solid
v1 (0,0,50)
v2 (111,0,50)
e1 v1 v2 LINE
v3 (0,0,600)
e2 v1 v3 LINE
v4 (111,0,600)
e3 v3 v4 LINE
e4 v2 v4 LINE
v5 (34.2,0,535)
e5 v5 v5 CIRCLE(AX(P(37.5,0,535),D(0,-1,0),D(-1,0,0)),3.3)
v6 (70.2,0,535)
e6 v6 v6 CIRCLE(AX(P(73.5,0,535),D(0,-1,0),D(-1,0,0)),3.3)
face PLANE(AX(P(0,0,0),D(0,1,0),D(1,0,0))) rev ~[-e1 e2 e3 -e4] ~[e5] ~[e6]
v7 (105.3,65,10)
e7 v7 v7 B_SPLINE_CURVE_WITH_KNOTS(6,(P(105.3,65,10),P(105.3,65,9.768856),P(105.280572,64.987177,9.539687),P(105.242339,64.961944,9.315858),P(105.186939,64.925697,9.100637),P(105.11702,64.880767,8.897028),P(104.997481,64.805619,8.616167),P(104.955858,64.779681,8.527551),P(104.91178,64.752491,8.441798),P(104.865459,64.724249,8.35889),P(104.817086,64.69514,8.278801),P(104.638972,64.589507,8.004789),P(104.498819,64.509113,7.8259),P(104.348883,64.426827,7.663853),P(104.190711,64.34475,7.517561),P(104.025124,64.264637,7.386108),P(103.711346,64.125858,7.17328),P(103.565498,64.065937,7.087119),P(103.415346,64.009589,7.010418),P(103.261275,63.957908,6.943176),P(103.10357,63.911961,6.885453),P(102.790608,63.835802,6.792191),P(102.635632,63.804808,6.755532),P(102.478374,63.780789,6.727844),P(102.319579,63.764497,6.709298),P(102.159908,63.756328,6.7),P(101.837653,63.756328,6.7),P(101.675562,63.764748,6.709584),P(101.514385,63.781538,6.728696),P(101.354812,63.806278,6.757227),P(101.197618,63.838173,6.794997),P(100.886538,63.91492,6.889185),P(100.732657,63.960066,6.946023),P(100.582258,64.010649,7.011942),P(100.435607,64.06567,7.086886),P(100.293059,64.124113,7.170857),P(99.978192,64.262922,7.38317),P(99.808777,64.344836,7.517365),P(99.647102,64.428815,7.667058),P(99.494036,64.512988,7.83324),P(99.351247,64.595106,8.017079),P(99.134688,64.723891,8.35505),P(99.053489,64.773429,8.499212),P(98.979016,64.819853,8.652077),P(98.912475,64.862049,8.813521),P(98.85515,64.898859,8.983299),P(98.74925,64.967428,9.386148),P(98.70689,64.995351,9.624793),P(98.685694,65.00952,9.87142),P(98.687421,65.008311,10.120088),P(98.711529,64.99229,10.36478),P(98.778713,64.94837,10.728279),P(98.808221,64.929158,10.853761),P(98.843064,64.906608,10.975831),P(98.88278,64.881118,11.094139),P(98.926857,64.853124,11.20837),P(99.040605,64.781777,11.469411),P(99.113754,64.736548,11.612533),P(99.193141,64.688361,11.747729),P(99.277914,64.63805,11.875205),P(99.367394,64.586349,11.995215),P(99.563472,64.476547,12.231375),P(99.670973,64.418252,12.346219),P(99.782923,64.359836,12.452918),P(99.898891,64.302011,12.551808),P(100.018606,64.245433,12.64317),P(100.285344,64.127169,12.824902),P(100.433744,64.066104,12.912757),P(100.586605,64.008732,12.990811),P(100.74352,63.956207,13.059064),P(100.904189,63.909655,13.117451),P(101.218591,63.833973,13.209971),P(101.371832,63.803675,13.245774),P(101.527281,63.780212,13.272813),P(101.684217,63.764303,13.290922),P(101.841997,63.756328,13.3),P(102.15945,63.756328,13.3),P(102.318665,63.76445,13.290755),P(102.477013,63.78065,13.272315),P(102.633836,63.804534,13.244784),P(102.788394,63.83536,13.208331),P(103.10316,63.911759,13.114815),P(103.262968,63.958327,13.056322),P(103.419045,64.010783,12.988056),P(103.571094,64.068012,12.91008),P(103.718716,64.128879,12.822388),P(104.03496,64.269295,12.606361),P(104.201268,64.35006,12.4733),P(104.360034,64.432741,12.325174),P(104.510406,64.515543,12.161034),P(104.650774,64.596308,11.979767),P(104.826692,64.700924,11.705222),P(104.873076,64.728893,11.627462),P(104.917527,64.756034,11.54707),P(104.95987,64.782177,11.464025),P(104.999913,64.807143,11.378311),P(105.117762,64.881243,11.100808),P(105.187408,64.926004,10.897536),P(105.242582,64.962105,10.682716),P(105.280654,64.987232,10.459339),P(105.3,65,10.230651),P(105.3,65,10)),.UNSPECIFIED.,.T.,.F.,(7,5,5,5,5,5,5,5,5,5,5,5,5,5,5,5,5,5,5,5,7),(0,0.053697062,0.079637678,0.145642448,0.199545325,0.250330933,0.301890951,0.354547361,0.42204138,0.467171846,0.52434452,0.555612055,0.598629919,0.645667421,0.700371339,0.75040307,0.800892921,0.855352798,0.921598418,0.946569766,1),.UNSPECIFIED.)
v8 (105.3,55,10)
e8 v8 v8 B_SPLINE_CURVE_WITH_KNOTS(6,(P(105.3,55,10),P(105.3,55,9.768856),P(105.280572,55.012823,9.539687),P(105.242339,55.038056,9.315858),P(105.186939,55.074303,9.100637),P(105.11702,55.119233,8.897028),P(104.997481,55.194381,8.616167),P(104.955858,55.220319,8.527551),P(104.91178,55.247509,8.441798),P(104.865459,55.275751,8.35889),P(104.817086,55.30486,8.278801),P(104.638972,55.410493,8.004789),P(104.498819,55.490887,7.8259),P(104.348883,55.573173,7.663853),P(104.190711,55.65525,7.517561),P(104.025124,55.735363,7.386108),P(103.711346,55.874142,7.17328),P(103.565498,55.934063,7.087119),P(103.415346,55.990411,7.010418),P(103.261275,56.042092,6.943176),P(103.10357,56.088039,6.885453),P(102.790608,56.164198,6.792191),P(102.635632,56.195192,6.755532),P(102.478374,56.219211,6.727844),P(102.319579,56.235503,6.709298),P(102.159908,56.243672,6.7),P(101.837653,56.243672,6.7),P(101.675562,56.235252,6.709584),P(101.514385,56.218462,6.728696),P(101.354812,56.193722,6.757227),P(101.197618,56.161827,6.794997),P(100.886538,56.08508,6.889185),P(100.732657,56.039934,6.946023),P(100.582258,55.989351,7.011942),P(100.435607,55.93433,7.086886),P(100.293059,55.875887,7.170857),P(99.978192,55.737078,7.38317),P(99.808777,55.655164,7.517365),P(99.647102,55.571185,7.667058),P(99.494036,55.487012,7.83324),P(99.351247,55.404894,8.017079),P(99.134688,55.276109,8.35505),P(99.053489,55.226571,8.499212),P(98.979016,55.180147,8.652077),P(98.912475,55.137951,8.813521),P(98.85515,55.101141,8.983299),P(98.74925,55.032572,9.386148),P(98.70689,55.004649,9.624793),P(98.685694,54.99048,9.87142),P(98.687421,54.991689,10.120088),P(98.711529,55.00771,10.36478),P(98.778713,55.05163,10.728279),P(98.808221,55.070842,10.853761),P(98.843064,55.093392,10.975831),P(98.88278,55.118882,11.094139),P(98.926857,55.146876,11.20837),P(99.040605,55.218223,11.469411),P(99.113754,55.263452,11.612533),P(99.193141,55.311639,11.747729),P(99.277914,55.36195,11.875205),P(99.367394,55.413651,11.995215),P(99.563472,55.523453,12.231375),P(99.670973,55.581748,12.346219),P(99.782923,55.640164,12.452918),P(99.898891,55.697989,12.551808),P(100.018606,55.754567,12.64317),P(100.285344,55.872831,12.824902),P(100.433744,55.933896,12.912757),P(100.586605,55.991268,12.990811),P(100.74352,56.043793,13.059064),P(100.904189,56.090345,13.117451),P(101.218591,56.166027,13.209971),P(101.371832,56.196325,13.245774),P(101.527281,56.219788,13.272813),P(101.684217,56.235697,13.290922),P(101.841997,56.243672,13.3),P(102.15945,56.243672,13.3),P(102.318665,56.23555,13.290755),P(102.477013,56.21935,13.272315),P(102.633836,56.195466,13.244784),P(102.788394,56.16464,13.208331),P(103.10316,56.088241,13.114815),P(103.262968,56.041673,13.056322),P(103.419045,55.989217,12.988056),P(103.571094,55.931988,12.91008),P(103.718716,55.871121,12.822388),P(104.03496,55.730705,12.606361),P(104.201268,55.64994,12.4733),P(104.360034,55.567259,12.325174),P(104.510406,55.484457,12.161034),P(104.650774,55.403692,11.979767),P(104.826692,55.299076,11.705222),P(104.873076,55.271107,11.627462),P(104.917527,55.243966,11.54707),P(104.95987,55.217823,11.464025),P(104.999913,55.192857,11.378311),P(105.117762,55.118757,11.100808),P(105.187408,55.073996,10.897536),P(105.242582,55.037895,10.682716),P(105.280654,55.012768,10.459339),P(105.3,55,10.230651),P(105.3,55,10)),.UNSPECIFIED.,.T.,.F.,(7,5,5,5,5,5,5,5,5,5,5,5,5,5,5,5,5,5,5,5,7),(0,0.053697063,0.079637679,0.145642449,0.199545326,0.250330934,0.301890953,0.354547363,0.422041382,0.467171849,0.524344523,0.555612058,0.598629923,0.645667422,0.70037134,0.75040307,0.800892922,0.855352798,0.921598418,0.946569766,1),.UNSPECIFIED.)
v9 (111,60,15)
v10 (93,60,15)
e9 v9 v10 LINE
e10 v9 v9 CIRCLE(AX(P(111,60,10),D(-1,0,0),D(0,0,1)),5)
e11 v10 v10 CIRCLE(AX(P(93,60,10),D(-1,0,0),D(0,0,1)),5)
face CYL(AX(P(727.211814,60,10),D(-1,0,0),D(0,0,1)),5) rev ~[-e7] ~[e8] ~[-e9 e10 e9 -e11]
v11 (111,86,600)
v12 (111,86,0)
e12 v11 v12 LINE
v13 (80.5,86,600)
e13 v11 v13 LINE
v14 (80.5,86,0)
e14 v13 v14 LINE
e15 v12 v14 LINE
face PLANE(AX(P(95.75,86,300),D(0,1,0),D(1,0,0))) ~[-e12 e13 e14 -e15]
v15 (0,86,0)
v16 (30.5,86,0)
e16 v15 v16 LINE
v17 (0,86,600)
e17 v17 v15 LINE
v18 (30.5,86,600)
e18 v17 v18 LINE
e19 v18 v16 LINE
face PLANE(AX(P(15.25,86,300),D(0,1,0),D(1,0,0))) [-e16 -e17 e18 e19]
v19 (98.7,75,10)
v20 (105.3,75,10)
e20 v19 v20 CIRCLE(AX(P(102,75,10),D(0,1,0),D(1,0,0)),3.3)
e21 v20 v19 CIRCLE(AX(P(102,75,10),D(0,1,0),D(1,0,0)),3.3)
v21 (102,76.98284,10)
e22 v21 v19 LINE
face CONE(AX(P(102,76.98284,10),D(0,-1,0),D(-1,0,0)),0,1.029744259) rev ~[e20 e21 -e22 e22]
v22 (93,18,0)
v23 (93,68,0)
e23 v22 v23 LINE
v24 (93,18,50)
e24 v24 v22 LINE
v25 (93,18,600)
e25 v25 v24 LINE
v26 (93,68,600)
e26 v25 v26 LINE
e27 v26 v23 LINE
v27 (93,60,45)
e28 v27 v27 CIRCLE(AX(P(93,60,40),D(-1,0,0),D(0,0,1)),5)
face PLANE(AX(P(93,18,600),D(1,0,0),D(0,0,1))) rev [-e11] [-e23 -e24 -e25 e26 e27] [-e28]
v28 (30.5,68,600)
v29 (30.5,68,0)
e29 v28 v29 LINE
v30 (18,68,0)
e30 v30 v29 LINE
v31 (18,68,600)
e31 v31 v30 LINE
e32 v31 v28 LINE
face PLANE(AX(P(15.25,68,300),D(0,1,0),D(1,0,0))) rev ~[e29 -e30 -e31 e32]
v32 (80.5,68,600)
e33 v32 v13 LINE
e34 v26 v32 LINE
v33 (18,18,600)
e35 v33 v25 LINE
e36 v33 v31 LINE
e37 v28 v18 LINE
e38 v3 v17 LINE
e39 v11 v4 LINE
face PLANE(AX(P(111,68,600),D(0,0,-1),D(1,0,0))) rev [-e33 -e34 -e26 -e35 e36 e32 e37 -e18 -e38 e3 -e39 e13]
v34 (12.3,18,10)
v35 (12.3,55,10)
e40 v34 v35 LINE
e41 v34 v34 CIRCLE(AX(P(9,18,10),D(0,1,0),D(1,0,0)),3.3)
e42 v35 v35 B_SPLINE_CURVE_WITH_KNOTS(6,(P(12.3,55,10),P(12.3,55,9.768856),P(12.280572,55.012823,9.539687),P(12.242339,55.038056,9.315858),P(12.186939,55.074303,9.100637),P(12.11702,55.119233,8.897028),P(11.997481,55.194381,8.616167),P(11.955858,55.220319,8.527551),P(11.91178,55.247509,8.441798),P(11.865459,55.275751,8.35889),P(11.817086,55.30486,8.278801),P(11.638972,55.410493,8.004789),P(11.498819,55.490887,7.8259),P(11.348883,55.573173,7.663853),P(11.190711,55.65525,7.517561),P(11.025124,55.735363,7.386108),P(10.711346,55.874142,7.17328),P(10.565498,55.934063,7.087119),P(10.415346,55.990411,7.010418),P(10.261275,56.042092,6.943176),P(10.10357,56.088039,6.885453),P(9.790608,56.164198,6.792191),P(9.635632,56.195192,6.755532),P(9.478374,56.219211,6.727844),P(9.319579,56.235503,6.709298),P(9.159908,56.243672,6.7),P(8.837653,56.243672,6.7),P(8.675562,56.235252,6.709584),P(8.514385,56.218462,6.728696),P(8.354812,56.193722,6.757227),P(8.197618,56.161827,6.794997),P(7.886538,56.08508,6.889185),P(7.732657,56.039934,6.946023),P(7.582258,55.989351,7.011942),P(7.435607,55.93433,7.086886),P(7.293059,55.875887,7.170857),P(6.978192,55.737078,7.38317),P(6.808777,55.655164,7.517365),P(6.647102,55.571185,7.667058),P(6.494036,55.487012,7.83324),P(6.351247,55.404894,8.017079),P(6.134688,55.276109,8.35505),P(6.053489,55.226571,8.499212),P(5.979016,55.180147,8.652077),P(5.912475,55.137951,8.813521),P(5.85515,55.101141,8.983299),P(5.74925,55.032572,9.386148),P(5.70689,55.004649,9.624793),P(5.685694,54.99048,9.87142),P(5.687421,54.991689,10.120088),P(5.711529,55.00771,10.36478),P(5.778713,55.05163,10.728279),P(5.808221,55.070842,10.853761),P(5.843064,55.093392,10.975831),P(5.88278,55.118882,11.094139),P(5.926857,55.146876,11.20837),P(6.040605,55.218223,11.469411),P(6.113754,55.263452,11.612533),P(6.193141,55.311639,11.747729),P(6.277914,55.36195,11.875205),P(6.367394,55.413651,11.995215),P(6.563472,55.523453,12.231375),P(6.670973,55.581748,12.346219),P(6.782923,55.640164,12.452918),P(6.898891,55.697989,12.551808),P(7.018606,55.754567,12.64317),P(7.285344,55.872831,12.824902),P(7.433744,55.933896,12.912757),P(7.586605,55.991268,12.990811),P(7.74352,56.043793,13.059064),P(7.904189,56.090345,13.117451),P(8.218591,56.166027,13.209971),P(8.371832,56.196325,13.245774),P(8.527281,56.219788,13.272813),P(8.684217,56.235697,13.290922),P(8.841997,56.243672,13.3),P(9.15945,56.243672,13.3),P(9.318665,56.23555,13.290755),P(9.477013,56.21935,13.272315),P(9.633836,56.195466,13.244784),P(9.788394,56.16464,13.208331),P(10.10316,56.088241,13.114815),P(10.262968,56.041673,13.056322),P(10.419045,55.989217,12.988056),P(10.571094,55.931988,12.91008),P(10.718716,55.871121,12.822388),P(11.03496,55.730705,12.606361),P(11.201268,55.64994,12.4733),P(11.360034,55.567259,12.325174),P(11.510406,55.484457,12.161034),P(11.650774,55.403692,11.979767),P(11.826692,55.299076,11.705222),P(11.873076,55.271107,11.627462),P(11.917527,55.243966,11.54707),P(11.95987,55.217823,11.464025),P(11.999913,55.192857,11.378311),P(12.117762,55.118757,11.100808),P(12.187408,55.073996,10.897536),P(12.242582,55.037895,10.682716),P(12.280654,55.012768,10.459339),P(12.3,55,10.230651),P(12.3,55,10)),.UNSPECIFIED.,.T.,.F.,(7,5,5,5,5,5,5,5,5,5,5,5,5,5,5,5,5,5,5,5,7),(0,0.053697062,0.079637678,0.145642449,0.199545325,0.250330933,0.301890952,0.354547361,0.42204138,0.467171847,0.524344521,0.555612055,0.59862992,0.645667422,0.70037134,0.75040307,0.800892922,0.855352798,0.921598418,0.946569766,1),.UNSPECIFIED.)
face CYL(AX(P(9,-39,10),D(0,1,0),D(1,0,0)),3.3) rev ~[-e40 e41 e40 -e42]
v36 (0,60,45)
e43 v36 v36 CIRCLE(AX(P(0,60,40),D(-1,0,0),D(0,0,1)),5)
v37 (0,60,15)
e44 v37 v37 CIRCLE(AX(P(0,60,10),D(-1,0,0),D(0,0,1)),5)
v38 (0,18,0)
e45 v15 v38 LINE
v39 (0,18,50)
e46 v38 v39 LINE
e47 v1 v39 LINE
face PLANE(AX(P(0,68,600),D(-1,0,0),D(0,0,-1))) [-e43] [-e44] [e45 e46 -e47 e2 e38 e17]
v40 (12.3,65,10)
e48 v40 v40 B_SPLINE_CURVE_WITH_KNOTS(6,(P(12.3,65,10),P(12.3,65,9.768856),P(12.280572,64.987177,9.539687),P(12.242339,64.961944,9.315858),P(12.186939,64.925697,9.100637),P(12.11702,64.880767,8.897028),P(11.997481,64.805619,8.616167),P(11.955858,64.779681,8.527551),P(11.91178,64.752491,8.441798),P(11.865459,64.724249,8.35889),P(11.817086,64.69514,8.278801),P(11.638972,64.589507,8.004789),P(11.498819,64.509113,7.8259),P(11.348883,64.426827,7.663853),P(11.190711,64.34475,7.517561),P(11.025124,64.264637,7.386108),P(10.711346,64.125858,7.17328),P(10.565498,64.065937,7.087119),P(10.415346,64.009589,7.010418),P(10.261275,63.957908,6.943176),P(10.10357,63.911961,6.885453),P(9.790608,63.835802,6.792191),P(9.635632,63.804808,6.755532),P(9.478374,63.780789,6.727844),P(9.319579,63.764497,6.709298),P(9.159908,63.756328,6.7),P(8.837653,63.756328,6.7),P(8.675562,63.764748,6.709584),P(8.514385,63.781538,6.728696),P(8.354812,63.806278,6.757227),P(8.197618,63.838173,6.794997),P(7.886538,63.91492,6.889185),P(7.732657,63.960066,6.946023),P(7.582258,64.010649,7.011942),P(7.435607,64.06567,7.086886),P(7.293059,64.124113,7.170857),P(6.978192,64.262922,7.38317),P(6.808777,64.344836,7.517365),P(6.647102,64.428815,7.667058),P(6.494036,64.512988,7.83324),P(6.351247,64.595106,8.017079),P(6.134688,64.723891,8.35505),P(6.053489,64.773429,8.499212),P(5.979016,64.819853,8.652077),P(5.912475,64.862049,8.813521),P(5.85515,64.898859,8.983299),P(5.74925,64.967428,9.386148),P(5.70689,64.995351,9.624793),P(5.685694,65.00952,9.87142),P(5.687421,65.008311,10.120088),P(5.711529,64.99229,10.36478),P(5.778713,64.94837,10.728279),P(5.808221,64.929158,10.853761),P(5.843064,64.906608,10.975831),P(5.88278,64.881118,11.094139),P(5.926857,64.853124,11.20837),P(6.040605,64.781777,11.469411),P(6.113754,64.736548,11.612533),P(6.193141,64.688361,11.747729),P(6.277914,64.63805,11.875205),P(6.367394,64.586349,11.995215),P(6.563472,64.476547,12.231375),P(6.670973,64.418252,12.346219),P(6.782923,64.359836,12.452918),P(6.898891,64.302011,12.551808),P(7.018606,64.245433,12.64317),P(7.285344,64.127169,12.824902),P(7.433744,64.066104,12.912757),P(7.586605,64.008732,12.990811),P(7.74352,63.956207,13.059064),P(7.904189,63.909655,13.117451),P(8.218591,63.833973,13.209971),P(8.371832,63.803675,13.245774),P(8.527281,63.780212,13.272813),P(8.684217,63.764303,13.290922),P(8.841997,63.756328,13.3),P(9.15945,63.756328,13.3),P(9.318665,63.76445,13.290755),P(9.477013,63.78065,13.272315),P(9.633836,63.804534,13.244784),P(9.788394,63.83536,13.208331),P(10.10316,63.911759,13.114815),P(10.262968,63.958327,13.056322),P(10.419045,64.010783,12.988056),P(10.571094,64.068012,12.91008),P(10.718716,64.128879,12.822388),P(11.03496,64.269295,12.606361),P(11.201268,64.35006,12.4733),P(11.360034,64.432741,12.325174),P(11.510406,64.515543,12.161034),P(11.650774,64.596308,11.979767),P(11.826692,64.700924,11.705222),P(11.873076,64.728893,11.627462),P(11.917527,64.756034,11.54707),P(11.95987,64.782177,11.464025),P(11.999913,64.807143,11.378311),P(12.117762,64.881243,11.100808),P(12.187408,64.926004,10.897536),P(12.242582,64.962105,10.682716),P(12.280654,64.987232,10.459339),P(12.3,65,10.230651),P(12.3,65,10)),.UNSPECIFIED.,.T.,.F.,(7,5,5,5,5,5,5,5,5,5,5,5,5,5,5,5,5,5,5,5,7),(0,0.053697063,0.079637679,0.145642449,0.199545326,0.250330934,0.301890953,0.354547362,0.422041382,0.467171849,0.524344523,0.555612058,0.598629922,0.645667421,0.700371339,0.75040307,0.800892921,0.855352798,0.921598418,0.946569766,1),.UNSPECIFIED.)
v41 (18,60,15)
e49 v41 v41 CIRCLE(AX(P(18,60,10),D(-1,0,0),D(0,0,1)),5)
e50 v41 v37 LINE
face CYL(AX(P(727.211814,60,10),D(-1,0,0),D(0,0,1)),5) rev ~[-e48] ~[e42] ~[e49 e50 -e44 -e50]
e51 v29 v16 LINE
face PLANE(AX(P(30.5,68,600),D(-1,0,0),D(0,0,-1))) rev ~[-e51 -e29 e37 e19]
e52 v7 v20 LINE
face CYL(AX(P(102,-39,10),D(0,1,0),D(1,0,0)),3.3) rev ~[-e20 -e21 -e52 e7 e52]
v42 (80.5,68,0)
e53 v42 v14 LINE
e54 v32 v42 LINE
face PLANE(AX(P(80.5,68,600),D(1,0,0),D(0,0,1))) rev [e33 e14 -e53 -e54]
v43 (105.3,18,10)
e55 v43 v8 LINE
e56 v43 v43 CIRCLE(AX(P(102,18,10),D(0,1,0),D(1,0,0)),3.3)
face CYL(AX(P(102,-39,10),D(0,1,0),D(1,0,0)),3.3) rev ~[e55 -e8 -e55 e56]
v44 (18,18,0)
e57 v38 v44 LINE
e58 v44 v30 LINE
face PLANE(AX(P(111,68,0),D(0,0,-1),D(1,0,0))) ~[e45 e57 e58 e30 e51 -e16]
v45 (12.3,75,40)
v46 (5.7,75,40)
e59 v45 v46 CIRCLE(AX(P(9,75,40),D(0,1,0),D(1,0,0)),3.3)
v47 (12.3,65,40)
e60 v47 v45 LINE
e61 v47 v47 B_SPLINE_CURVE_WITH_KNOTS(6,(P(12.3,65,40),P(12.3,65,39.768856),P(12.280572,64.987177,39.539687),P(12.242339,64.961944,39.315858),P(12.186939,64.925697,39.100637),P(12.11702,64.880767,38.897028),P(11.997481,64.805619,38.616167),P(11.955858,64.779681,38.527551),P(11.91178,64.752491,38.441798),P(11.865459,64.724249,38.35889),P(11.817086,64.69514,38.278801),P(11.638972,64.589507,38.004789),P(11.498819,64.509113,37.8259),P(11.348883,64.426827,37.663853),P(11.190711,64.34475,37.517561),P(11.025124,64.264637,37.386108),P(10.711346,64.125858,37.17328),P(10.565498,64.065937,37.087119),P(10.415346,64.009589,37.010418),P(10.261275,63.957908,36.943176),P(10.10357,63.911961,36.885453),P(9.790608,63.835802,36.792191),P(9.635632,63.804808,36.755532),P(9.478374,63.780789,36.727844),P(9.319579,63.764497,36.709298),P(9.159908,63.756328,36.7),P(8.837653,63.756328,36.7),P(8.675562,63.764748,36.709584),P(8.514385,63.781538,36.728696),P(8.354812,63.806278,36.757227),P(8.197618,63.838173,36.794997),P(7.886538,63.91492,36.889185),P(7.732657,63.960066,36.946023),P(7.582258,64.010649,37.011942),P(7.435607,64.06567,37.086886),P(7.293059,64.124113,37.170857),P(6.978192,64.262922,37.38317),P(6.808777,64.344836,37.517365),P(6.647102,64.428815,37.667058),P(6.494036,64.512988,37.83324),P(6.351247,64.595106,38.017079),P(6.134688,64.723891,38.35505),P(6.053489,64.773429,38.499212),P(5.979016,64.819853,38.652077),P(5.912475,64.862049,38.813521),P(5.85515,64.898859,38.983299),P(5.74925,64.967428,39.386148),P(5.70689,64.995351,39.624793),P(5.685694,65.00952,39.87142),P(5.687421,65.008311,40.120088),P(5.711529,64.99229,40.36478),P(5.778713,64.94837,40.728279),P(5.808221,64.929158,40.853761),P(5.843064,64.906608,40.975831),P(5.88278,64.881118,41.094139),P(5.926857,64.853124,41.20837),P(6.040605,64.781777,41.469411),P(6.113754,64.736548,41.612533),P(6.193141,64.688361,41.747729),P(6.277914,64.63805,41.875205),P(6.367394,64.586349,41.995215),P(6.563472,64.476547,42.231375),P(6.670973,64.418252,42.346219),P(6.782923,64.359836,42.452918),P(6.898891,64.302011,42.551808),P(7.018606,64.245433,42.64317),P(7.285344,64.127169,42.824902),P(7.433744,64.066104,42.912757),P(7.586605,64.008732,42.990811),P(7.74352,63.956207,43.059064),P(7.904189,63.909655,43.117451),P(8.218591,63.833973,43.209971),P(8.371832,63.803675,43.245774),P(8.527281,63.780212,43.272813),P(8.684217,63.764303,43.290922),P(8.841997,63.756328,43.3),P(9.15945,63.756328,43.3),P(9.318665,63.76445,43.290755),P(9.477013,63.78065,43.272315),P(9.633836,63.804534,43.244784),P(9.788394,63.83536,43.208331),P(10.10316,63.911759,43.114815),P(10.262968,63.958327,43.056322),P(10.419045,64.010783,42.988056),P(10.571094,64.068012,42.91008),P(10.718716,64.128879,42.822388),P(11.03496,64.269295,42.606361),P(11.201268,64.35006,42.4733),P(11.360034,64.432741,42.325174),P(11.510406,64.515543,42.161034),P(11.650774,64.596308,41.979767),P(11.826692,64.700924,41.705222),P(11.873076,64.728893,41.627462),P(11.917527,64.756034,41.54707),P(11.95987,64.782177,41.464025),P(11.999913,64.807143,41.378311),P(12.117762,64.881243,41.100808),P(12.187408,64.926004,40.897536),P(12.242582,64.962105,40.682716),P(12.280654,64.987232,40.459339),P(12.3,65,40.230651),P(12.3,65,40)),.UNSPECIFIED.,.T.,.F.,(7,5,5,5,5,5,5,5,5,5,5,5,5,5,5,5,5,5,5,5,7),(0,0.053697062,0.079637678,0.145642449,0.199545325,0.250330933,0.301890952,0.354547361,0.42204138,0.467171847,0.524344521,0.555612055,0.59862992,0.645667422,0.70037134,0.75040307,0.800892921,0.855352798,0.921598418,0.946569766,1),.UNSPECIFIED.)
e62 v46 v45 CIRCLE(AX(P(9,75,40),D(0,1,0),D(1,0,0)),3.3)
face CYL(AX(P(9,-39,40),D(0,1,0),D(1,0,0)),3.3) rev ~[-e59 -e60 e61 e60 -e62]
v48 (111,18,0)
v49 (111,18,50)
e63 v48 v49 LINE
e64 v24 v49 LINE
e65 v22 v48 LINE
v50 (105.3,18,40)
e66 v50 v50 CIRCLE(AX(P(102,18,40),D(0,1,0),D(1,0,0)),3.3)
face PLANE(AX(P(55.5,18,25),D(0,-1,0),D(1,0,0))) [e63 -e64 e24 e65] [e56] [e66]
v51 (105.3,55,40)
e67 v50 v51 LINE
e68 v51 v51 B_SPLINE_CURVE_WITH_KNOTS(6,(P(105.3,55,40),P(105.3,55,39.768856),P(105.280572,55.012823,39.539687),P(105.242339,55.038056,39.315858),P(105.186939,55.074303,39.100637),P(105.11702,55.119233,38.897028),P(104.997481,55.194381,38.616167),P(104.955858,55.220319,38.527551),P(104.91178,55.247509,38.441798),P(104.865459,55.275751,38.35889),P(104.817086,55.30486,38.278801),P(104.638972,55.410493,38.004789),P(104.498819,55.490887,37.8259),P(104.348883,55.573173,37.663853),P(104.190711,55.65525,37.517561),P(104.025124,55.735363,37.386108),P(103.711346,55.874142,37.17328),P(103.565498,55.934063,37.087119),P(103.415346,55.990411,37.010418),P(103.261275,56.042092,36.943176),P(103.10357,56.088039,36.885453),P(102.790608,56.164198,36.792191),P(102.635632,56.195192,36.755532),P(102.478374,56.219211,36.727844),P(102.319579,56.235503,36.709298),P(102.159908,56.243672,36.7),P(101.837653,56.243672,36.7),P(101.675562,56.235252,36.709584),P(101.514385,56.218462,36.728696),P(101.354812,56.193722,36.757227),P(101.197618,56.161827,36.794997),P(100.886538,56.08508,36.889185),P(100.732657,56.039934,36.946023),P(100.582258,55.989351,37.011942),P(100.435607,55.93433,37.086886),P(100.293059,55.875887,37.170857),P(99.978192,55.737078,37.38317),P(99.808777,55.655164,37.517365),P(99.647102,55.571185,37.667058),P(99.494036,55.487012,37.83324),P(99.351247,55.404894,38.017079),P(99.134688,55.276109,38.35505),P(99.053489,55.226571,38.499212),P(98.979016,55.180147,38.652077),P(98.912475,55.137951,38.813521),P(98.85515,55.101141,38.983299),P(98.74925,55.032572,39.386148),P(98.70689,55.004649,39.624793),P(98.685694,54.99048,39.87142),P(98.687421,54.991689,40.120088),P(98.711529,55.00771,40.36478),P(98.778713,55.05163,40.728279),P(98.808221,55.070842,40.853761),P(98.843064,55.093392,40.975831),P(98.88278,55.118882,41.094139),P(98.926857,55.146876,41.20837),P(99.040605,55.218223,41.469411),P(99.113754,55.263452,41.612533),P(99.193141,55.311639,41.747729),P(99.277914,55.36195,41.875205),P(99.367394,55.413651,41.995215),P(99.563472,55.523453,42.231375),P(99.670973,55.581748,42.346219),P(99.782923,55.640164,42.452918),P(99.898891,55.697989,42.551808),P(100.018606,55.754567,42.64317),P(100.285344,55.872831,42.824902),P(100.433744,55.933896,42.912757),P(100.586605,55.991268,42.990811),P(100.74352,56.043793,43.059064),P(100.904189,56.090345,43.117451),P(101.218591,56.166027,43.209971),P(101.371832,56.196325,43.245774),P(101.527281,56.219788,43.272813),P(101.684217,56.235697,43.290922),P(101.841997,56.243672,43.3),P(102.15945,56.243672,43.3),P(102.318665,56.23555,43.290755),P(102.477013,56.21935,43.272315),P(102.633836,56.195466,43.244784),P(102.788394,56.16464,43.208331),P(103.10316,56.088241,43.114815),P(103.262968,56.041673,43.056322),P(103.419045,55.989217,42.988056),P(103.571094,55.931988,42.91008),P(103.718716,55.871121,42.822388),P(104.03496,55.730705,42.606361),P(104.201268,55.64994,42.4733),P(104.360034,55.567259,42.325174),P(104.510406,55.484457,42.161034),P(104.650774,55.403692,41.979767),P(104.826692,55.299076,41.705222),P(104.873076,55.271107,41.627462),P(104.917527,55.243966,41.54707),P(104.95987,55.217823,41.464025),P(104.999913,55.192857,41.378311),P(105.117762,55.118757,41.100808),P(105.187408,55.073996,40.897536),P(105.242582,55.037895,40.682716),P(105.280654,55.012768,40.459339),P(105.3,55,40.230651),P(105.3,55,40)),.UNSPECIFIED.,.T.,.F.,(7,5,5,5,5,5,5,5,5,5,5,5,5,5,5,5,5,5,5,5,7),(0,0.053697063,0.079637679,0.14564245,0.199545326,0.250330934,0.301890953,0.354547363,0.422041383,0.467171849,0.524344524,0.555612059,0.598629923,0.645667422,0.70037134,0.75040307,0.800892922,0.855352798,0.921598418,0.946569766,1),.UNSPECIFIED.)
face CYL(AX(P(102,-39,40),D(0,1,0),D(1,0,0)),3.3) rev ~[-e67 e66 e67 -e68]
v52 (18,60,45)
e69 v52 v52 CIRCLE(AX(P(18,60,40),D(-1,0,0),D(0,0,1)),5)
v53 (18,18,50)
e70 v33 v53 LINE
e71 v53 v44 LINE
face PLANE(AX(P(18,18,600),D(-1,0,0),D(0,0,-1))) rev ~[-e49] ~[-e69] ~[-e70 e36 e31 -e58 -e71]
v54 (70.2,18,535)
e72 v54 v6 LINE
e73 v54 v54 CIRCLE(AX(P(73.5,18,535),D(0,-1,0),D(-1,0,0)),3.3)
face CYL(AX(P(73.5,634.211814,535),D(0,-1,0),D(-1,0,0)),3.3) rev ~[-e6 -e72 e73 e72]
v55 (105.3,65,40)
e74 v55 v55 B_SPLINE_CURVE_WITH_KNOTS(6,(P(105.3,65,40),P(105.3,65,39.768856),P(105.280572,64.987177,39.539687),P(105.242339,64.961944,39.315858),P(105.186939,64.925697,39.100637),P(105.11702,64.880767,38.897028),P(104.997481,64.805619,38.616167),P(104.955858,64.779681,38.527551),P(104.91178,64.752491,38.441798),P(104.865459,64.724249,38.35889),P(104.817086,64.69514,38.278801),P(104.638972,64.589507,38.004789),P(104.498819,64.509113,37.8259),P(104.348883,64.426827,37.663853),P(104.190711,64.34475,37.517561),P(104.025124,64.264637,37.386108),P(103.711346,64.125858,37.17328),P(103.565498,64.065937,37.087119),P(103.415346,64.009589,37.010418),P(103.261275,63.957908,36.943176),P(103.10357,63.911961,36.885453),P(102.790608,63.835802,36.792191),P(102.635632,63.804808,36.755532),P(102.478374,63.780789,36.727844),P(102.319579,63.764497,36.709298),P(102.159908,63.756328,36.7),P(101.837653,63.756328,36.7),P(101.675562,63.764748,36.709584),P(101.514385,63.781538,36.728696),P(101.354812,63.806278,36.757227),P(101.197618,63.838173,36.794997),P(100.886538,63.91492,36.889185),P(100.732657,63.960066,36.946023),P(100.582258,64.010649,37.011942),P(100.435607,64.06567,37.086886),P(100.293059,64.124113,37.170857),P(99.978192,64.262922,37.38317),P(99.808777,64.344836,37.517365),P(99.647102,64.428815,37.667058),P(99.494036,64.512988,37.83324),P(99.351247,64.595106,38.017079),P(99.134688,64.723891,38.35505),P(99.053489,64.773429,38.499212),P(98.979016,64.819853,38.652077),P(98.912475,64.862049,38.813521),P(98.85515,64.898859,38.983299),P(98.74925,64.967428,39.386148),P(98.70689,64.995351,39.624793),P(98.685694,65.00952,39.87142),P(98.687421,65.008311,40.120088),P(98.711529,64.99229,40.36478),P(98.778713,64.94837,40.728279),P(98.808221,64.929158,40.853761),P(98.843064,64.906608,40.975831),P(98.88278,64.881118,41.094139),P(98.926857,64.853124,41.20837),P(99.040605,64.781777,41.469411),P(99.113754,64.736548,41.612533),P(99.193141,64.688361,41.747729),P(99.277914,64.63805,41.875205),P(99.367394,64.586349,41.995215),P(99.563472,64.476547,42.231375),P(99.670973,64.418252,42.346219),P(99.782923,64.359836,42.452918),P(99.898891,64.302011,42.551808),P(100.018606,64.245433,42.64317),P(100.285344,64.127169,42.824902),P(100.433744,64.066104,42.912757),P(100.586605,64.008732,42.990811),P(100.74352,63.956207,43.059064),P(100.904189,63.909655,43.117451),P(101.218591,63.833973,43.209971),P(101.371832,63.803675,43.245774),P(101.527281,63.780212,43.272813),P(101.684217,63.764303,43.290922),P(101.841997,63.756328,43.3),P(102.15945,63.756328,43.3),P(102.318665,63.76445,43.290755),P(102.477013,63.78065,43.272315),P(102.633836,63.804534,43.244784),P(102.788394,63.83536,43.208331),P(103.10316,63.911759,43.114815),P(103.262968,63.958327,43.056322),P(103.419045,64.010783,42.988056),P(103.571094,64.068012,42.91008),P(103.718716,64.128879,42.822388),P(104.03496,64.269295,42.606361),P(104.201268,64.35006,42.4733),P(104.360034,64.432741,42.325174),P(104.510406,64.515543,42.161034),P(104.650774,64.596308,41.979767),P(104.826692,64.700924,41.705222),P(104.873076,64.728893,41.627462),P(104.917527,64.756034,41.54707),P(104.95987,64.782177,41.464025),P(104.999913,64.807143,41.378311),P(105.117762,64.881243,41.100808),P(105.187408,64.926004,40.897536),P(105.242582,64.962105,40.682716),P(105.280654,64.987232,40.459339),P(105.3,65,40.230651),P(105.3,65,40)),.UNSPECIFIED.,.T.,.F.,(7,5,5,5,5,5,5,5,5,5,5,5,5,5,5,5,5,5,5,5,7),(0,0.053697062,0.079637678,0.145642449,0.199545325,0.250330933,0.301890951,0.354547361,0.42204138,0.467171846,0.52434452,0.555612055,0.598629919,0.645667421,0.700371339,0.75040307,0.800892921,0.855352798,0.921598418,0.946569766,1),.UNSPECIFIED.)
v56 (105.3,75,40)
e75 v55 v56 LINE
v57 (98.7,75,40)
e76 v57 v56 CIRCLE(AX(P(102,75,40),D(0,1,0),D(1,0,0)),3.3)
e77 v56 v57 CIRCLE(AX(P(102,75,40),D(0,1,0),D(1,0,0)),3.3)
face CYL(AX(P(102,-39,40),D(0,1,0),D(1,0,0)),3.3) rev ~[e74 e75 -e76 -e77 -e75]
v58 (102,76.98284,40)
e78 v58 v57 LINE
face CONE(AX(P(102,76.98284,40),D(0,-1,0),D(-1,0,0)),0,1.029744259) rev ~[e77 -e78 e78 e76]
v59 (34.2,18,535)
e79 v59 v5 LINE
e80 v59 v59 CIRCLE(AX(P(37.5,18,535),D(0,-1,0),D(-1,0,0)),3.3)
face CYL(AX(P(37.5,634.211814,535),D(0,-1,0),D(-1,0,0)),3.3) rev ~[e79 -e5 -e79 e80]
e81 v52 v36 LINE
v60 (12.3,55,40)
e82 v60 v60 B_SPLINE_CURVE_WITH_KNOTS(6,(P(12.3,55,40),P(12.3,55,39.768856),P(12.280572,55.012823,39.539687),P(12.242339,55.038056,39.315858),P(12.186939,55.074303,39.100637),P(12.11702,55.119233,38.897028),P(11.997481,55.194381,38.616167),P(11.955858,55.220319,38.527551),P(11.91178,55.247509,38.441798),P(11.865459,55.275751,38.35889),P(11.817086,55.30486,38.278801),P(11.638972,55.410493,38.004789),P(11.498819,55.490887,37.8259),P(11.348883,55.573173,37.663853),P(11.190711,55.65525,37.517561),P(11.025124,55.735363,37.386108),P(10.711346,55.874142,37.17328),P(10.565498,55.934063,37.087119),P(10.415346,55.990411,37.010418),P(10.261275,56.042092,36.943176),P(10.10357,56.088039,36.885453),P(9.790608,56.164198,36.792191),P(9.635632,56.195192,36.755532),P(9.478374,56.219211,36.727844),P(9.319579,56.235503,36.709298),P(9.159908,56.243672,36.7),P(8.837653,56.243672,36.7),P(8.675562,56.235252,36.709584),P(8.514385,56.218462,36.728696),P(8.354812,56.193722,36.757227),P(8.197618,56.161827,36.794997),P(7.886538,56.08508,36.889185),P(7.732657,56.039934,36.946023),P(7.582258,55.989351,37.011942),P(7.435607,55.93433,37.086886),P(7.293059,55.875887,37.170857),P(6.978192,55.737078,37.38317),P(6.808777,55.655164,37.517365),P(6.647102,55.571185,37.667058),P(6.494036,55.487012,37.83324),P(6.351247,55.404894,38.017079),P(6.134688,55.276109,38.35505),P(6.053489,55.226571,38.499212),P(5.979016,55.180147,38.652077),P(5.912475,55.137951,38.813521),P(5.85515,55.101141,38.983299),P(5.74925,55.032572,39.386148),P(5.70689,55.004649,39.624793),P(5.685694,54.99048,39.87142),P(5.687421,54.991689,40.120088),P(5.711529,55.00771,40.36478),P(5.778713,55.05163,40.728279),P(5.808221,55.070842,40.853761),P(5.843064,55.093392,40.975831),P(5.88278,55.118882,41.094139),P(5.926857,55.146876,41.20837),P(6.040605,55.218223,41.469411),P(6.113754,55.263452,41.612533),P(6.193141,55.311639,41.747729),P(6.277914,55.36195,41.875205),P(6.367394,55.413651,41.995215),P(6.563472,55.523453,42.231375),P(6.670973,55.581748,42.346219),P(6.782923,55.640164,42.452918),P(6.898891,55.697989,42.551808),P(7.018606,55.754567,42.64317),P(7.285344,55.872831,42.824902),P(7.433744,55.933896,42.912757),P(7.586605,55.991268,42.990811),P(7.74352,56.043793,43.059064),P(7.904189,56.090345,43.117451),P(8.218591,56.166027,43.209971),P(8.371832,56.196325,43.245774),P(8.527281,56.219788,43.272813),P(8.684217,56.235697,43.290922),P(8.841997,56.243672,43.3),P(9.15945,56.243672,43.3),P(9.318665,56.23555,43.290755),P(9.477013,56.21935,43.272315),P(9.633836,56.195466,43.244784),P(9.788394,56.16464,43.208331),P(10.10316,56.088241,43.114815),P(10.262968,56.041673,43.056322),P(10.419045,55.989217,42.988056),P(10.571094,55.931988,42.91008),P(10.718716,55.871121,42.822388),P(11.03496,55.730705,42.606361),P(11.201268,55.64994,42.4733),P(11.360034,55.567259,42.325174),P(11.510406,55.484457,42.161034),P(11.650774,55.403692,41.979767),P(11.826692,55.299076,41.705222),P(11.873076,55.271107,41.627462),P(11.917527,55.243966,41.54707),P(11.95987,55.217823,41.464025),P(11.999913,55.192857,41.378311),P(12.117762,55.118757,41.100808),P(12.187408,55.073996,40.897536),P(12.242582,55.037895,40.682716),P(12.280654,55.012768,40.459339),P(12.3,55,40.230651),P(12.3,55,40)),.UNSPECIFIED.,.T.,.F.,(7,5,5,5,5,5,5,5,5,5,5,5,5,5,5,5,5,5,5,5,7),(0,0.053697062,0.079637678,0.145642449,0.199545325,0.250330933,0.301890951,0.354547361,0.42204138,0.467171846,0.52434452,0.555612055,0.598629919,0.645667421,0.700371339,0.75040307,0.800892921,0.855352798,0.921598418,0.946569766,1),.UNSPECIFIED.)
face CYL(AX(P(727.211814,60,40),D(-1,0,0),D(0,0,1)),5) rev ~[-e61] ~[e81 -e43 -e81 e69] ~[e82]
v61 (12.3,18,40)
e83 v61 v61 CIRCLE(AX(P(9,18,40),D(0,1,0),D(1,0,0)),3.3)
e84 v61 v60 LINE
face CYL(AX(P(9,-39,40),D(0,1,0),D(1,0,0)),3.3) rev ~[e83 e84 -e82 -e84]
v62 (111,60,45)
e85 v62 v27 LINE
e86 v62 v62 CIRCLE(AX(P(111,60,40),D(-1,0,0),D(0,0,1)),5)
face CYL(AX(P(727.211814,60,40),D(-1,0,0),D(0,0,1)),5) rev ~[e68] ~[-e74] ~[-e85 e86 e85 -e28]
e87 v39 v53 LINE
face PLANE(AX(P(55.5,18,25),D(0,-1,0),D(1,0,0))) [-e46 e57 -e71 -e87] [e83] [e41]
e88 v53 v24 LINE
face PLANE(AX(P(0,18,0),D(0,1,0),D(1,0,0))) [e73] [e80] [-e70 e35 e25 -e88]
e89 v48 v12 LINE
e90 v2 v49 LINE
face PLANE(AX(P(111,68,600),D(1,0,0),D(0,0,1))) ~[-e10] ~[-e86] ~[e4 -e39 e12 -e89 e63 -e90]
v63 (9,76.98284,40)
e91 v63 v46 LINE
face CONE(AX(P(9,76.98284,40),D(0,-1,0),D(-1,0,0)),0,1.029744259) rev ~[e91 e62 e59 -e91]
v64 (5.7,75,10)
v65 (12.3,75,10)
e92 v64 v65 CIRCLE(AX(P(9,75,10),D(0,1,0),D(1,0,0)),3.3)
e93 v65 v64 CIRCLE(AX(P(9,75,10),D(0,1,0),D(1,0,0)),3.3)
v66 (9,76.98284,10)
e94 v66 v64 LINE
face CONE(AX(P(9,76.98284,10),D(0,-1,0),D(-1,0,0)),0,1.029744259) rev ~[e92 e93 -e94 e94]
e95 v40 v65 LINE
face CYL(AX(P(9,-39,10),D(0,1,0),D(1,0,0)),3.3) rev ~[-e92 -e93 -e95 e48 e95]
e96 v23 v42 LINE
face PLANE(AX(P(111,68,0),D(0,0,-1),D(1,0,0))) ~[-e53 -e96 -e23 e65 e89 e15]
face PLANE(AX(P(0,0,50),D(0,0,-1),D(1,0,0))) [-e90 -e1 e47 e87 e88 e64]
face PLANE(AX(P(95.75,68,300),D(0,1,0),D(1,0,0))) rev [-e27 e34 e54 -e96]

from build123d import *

# Parameters (mm, degrees)
SKETCH1_W                                  = 111
SKETCH1_H                                  = 18
BASEPLATE_DEPTH                            = 600
SKETCH2_W                                  = 18
SKETCH2_H                                  = 600
SIDE_RAIL_DEPTH                            = 50
SKETCH3_W                                  = 30.5
SKETCH3_H                                  = 600
KEEPER_RAIL_DEPTH                          = 18
SKETCH5_W                                  = 111
SKETCH5_H                                  = 50
LAP_JOINT_CUTOUT_DEPTH                     = 18
LAP_JOINT_BOLT_HOLE_PATTERN_D              = 6.6
LAP_JOINT_BOLT_HOLE_PATTERN_DEPTH          = 57
LAP_JOINT_BOLT_HOLE_PATTERN_TIP            = 1.982840043
FIXED_BEARING_BLOCK_BOLT_CLEARANCE_HOLES_D = 6.6
CROSS_DOWEL_BOLT_CLEARANCE_HOLES_D         = 10


with BuildPart() as part:
    # Sketch1 → baseplate (new body)
    with BuildSketch(Plane.XY):
        with Locations((55.5, 9)):
            Rectangle(SKETCH1_W, SKETCH1_H)
    extrude(amount=BASEPLATE_DEPTH)

    # Sketch2 → side_rail (add)
    with BuildSketch(Plane(origin=(0, 18, 0), x_dir=(1, 0, 0), z_dir=(0, 1, 0))):
        with Locations((9, -300)):
            Rectangle(SKETCH2_W, SKETCH2_H)
    side_rail = extrude(amount=SIDE_RAIL_DEPTH)

    # Sketch3 → keeper rail (add)
    with BuildSketch(Plane(origin=(0, 68, 0), x_dir=(1, 0, 0), z_dir=(0, 1, 0))):
        with Locations((15.25, -300)):
            Rectangle(SKETCH3_W, SKETCH3_H)
    keeper_rail = extrude(amount=KEEPER_RAIL_DEPTH)

    # mirror rails: side_rail, keeper rail across plane
    add(side_rail.mirror(Plane.ZY.offset(-55.5)))
    add(keeper_rail.mirror(Plane.ZY.offset(-55.5)))

    # Sketch5 → lap joint cutout (cut)
    with BuildSketch(Plane.XZ):
        with Locations((55.5, 25)):
            Rectangle(SKETCH5_W, SKETCH5_H)
    extrude(amount=-LAP_JOINT_CUTOUT_DEPTH, mode=Mode.SUBTRACT)

    # lap joint bolt hole pattern
    with Locations(Plane(origin=(0, 18, 0), x_dir=(-1, 0, 0), z_dir=(0, -1, 0))):
        with Locations((-102, -10), (-9, -40), (-102, -40), (-9, -10)):
            Hole(LAP_JOINT_BOLT_HOLE_PATTERN_D / 2, depth=LAP_JOINT_BOLT_HOLE_PATTERN_DEPTH)
            with Locations((0, 0, -(LAP_JOINT_BOLT_HOLE_PATTERN_DEPTH + LAP_JOINT_BOLT_HOLE_PATTERN_TIP / 2))):  # 118° drill point
                Cone(0, LAP_JOINT_BOLT_HOLE_PATTERN_D / 2, LAP_JOINT_BOLT_HOLE_PATTERN_TIP, mode=Mode.SUBTRACT)

    # fixed bearing block bolt clearance holes (through all)
    with Locations(Plane(origin=(0, 18, 0), x_dir=(1, 0, 0), z_dir=(0, 1, 0))):
        with Locations((37.5, -535), (73.5, -535)):
            Hole(FIXED_BEARING_BLOCK_BOLT_CLEARANCE_HOLES_D / 2)

    # cross dowel bolt clearance holes (through all)
    with Locations(Plane(origin=(111, 0, 0), x_dir=(0, 0, -1), z_dir=(1, 0, 0))):
        with Locations((-40, 60), (-10, 60)):
            Hole(CROSS_DOWEL_BOLT_CLEARANCE_HOLES_D / 2)


solid = part.part
